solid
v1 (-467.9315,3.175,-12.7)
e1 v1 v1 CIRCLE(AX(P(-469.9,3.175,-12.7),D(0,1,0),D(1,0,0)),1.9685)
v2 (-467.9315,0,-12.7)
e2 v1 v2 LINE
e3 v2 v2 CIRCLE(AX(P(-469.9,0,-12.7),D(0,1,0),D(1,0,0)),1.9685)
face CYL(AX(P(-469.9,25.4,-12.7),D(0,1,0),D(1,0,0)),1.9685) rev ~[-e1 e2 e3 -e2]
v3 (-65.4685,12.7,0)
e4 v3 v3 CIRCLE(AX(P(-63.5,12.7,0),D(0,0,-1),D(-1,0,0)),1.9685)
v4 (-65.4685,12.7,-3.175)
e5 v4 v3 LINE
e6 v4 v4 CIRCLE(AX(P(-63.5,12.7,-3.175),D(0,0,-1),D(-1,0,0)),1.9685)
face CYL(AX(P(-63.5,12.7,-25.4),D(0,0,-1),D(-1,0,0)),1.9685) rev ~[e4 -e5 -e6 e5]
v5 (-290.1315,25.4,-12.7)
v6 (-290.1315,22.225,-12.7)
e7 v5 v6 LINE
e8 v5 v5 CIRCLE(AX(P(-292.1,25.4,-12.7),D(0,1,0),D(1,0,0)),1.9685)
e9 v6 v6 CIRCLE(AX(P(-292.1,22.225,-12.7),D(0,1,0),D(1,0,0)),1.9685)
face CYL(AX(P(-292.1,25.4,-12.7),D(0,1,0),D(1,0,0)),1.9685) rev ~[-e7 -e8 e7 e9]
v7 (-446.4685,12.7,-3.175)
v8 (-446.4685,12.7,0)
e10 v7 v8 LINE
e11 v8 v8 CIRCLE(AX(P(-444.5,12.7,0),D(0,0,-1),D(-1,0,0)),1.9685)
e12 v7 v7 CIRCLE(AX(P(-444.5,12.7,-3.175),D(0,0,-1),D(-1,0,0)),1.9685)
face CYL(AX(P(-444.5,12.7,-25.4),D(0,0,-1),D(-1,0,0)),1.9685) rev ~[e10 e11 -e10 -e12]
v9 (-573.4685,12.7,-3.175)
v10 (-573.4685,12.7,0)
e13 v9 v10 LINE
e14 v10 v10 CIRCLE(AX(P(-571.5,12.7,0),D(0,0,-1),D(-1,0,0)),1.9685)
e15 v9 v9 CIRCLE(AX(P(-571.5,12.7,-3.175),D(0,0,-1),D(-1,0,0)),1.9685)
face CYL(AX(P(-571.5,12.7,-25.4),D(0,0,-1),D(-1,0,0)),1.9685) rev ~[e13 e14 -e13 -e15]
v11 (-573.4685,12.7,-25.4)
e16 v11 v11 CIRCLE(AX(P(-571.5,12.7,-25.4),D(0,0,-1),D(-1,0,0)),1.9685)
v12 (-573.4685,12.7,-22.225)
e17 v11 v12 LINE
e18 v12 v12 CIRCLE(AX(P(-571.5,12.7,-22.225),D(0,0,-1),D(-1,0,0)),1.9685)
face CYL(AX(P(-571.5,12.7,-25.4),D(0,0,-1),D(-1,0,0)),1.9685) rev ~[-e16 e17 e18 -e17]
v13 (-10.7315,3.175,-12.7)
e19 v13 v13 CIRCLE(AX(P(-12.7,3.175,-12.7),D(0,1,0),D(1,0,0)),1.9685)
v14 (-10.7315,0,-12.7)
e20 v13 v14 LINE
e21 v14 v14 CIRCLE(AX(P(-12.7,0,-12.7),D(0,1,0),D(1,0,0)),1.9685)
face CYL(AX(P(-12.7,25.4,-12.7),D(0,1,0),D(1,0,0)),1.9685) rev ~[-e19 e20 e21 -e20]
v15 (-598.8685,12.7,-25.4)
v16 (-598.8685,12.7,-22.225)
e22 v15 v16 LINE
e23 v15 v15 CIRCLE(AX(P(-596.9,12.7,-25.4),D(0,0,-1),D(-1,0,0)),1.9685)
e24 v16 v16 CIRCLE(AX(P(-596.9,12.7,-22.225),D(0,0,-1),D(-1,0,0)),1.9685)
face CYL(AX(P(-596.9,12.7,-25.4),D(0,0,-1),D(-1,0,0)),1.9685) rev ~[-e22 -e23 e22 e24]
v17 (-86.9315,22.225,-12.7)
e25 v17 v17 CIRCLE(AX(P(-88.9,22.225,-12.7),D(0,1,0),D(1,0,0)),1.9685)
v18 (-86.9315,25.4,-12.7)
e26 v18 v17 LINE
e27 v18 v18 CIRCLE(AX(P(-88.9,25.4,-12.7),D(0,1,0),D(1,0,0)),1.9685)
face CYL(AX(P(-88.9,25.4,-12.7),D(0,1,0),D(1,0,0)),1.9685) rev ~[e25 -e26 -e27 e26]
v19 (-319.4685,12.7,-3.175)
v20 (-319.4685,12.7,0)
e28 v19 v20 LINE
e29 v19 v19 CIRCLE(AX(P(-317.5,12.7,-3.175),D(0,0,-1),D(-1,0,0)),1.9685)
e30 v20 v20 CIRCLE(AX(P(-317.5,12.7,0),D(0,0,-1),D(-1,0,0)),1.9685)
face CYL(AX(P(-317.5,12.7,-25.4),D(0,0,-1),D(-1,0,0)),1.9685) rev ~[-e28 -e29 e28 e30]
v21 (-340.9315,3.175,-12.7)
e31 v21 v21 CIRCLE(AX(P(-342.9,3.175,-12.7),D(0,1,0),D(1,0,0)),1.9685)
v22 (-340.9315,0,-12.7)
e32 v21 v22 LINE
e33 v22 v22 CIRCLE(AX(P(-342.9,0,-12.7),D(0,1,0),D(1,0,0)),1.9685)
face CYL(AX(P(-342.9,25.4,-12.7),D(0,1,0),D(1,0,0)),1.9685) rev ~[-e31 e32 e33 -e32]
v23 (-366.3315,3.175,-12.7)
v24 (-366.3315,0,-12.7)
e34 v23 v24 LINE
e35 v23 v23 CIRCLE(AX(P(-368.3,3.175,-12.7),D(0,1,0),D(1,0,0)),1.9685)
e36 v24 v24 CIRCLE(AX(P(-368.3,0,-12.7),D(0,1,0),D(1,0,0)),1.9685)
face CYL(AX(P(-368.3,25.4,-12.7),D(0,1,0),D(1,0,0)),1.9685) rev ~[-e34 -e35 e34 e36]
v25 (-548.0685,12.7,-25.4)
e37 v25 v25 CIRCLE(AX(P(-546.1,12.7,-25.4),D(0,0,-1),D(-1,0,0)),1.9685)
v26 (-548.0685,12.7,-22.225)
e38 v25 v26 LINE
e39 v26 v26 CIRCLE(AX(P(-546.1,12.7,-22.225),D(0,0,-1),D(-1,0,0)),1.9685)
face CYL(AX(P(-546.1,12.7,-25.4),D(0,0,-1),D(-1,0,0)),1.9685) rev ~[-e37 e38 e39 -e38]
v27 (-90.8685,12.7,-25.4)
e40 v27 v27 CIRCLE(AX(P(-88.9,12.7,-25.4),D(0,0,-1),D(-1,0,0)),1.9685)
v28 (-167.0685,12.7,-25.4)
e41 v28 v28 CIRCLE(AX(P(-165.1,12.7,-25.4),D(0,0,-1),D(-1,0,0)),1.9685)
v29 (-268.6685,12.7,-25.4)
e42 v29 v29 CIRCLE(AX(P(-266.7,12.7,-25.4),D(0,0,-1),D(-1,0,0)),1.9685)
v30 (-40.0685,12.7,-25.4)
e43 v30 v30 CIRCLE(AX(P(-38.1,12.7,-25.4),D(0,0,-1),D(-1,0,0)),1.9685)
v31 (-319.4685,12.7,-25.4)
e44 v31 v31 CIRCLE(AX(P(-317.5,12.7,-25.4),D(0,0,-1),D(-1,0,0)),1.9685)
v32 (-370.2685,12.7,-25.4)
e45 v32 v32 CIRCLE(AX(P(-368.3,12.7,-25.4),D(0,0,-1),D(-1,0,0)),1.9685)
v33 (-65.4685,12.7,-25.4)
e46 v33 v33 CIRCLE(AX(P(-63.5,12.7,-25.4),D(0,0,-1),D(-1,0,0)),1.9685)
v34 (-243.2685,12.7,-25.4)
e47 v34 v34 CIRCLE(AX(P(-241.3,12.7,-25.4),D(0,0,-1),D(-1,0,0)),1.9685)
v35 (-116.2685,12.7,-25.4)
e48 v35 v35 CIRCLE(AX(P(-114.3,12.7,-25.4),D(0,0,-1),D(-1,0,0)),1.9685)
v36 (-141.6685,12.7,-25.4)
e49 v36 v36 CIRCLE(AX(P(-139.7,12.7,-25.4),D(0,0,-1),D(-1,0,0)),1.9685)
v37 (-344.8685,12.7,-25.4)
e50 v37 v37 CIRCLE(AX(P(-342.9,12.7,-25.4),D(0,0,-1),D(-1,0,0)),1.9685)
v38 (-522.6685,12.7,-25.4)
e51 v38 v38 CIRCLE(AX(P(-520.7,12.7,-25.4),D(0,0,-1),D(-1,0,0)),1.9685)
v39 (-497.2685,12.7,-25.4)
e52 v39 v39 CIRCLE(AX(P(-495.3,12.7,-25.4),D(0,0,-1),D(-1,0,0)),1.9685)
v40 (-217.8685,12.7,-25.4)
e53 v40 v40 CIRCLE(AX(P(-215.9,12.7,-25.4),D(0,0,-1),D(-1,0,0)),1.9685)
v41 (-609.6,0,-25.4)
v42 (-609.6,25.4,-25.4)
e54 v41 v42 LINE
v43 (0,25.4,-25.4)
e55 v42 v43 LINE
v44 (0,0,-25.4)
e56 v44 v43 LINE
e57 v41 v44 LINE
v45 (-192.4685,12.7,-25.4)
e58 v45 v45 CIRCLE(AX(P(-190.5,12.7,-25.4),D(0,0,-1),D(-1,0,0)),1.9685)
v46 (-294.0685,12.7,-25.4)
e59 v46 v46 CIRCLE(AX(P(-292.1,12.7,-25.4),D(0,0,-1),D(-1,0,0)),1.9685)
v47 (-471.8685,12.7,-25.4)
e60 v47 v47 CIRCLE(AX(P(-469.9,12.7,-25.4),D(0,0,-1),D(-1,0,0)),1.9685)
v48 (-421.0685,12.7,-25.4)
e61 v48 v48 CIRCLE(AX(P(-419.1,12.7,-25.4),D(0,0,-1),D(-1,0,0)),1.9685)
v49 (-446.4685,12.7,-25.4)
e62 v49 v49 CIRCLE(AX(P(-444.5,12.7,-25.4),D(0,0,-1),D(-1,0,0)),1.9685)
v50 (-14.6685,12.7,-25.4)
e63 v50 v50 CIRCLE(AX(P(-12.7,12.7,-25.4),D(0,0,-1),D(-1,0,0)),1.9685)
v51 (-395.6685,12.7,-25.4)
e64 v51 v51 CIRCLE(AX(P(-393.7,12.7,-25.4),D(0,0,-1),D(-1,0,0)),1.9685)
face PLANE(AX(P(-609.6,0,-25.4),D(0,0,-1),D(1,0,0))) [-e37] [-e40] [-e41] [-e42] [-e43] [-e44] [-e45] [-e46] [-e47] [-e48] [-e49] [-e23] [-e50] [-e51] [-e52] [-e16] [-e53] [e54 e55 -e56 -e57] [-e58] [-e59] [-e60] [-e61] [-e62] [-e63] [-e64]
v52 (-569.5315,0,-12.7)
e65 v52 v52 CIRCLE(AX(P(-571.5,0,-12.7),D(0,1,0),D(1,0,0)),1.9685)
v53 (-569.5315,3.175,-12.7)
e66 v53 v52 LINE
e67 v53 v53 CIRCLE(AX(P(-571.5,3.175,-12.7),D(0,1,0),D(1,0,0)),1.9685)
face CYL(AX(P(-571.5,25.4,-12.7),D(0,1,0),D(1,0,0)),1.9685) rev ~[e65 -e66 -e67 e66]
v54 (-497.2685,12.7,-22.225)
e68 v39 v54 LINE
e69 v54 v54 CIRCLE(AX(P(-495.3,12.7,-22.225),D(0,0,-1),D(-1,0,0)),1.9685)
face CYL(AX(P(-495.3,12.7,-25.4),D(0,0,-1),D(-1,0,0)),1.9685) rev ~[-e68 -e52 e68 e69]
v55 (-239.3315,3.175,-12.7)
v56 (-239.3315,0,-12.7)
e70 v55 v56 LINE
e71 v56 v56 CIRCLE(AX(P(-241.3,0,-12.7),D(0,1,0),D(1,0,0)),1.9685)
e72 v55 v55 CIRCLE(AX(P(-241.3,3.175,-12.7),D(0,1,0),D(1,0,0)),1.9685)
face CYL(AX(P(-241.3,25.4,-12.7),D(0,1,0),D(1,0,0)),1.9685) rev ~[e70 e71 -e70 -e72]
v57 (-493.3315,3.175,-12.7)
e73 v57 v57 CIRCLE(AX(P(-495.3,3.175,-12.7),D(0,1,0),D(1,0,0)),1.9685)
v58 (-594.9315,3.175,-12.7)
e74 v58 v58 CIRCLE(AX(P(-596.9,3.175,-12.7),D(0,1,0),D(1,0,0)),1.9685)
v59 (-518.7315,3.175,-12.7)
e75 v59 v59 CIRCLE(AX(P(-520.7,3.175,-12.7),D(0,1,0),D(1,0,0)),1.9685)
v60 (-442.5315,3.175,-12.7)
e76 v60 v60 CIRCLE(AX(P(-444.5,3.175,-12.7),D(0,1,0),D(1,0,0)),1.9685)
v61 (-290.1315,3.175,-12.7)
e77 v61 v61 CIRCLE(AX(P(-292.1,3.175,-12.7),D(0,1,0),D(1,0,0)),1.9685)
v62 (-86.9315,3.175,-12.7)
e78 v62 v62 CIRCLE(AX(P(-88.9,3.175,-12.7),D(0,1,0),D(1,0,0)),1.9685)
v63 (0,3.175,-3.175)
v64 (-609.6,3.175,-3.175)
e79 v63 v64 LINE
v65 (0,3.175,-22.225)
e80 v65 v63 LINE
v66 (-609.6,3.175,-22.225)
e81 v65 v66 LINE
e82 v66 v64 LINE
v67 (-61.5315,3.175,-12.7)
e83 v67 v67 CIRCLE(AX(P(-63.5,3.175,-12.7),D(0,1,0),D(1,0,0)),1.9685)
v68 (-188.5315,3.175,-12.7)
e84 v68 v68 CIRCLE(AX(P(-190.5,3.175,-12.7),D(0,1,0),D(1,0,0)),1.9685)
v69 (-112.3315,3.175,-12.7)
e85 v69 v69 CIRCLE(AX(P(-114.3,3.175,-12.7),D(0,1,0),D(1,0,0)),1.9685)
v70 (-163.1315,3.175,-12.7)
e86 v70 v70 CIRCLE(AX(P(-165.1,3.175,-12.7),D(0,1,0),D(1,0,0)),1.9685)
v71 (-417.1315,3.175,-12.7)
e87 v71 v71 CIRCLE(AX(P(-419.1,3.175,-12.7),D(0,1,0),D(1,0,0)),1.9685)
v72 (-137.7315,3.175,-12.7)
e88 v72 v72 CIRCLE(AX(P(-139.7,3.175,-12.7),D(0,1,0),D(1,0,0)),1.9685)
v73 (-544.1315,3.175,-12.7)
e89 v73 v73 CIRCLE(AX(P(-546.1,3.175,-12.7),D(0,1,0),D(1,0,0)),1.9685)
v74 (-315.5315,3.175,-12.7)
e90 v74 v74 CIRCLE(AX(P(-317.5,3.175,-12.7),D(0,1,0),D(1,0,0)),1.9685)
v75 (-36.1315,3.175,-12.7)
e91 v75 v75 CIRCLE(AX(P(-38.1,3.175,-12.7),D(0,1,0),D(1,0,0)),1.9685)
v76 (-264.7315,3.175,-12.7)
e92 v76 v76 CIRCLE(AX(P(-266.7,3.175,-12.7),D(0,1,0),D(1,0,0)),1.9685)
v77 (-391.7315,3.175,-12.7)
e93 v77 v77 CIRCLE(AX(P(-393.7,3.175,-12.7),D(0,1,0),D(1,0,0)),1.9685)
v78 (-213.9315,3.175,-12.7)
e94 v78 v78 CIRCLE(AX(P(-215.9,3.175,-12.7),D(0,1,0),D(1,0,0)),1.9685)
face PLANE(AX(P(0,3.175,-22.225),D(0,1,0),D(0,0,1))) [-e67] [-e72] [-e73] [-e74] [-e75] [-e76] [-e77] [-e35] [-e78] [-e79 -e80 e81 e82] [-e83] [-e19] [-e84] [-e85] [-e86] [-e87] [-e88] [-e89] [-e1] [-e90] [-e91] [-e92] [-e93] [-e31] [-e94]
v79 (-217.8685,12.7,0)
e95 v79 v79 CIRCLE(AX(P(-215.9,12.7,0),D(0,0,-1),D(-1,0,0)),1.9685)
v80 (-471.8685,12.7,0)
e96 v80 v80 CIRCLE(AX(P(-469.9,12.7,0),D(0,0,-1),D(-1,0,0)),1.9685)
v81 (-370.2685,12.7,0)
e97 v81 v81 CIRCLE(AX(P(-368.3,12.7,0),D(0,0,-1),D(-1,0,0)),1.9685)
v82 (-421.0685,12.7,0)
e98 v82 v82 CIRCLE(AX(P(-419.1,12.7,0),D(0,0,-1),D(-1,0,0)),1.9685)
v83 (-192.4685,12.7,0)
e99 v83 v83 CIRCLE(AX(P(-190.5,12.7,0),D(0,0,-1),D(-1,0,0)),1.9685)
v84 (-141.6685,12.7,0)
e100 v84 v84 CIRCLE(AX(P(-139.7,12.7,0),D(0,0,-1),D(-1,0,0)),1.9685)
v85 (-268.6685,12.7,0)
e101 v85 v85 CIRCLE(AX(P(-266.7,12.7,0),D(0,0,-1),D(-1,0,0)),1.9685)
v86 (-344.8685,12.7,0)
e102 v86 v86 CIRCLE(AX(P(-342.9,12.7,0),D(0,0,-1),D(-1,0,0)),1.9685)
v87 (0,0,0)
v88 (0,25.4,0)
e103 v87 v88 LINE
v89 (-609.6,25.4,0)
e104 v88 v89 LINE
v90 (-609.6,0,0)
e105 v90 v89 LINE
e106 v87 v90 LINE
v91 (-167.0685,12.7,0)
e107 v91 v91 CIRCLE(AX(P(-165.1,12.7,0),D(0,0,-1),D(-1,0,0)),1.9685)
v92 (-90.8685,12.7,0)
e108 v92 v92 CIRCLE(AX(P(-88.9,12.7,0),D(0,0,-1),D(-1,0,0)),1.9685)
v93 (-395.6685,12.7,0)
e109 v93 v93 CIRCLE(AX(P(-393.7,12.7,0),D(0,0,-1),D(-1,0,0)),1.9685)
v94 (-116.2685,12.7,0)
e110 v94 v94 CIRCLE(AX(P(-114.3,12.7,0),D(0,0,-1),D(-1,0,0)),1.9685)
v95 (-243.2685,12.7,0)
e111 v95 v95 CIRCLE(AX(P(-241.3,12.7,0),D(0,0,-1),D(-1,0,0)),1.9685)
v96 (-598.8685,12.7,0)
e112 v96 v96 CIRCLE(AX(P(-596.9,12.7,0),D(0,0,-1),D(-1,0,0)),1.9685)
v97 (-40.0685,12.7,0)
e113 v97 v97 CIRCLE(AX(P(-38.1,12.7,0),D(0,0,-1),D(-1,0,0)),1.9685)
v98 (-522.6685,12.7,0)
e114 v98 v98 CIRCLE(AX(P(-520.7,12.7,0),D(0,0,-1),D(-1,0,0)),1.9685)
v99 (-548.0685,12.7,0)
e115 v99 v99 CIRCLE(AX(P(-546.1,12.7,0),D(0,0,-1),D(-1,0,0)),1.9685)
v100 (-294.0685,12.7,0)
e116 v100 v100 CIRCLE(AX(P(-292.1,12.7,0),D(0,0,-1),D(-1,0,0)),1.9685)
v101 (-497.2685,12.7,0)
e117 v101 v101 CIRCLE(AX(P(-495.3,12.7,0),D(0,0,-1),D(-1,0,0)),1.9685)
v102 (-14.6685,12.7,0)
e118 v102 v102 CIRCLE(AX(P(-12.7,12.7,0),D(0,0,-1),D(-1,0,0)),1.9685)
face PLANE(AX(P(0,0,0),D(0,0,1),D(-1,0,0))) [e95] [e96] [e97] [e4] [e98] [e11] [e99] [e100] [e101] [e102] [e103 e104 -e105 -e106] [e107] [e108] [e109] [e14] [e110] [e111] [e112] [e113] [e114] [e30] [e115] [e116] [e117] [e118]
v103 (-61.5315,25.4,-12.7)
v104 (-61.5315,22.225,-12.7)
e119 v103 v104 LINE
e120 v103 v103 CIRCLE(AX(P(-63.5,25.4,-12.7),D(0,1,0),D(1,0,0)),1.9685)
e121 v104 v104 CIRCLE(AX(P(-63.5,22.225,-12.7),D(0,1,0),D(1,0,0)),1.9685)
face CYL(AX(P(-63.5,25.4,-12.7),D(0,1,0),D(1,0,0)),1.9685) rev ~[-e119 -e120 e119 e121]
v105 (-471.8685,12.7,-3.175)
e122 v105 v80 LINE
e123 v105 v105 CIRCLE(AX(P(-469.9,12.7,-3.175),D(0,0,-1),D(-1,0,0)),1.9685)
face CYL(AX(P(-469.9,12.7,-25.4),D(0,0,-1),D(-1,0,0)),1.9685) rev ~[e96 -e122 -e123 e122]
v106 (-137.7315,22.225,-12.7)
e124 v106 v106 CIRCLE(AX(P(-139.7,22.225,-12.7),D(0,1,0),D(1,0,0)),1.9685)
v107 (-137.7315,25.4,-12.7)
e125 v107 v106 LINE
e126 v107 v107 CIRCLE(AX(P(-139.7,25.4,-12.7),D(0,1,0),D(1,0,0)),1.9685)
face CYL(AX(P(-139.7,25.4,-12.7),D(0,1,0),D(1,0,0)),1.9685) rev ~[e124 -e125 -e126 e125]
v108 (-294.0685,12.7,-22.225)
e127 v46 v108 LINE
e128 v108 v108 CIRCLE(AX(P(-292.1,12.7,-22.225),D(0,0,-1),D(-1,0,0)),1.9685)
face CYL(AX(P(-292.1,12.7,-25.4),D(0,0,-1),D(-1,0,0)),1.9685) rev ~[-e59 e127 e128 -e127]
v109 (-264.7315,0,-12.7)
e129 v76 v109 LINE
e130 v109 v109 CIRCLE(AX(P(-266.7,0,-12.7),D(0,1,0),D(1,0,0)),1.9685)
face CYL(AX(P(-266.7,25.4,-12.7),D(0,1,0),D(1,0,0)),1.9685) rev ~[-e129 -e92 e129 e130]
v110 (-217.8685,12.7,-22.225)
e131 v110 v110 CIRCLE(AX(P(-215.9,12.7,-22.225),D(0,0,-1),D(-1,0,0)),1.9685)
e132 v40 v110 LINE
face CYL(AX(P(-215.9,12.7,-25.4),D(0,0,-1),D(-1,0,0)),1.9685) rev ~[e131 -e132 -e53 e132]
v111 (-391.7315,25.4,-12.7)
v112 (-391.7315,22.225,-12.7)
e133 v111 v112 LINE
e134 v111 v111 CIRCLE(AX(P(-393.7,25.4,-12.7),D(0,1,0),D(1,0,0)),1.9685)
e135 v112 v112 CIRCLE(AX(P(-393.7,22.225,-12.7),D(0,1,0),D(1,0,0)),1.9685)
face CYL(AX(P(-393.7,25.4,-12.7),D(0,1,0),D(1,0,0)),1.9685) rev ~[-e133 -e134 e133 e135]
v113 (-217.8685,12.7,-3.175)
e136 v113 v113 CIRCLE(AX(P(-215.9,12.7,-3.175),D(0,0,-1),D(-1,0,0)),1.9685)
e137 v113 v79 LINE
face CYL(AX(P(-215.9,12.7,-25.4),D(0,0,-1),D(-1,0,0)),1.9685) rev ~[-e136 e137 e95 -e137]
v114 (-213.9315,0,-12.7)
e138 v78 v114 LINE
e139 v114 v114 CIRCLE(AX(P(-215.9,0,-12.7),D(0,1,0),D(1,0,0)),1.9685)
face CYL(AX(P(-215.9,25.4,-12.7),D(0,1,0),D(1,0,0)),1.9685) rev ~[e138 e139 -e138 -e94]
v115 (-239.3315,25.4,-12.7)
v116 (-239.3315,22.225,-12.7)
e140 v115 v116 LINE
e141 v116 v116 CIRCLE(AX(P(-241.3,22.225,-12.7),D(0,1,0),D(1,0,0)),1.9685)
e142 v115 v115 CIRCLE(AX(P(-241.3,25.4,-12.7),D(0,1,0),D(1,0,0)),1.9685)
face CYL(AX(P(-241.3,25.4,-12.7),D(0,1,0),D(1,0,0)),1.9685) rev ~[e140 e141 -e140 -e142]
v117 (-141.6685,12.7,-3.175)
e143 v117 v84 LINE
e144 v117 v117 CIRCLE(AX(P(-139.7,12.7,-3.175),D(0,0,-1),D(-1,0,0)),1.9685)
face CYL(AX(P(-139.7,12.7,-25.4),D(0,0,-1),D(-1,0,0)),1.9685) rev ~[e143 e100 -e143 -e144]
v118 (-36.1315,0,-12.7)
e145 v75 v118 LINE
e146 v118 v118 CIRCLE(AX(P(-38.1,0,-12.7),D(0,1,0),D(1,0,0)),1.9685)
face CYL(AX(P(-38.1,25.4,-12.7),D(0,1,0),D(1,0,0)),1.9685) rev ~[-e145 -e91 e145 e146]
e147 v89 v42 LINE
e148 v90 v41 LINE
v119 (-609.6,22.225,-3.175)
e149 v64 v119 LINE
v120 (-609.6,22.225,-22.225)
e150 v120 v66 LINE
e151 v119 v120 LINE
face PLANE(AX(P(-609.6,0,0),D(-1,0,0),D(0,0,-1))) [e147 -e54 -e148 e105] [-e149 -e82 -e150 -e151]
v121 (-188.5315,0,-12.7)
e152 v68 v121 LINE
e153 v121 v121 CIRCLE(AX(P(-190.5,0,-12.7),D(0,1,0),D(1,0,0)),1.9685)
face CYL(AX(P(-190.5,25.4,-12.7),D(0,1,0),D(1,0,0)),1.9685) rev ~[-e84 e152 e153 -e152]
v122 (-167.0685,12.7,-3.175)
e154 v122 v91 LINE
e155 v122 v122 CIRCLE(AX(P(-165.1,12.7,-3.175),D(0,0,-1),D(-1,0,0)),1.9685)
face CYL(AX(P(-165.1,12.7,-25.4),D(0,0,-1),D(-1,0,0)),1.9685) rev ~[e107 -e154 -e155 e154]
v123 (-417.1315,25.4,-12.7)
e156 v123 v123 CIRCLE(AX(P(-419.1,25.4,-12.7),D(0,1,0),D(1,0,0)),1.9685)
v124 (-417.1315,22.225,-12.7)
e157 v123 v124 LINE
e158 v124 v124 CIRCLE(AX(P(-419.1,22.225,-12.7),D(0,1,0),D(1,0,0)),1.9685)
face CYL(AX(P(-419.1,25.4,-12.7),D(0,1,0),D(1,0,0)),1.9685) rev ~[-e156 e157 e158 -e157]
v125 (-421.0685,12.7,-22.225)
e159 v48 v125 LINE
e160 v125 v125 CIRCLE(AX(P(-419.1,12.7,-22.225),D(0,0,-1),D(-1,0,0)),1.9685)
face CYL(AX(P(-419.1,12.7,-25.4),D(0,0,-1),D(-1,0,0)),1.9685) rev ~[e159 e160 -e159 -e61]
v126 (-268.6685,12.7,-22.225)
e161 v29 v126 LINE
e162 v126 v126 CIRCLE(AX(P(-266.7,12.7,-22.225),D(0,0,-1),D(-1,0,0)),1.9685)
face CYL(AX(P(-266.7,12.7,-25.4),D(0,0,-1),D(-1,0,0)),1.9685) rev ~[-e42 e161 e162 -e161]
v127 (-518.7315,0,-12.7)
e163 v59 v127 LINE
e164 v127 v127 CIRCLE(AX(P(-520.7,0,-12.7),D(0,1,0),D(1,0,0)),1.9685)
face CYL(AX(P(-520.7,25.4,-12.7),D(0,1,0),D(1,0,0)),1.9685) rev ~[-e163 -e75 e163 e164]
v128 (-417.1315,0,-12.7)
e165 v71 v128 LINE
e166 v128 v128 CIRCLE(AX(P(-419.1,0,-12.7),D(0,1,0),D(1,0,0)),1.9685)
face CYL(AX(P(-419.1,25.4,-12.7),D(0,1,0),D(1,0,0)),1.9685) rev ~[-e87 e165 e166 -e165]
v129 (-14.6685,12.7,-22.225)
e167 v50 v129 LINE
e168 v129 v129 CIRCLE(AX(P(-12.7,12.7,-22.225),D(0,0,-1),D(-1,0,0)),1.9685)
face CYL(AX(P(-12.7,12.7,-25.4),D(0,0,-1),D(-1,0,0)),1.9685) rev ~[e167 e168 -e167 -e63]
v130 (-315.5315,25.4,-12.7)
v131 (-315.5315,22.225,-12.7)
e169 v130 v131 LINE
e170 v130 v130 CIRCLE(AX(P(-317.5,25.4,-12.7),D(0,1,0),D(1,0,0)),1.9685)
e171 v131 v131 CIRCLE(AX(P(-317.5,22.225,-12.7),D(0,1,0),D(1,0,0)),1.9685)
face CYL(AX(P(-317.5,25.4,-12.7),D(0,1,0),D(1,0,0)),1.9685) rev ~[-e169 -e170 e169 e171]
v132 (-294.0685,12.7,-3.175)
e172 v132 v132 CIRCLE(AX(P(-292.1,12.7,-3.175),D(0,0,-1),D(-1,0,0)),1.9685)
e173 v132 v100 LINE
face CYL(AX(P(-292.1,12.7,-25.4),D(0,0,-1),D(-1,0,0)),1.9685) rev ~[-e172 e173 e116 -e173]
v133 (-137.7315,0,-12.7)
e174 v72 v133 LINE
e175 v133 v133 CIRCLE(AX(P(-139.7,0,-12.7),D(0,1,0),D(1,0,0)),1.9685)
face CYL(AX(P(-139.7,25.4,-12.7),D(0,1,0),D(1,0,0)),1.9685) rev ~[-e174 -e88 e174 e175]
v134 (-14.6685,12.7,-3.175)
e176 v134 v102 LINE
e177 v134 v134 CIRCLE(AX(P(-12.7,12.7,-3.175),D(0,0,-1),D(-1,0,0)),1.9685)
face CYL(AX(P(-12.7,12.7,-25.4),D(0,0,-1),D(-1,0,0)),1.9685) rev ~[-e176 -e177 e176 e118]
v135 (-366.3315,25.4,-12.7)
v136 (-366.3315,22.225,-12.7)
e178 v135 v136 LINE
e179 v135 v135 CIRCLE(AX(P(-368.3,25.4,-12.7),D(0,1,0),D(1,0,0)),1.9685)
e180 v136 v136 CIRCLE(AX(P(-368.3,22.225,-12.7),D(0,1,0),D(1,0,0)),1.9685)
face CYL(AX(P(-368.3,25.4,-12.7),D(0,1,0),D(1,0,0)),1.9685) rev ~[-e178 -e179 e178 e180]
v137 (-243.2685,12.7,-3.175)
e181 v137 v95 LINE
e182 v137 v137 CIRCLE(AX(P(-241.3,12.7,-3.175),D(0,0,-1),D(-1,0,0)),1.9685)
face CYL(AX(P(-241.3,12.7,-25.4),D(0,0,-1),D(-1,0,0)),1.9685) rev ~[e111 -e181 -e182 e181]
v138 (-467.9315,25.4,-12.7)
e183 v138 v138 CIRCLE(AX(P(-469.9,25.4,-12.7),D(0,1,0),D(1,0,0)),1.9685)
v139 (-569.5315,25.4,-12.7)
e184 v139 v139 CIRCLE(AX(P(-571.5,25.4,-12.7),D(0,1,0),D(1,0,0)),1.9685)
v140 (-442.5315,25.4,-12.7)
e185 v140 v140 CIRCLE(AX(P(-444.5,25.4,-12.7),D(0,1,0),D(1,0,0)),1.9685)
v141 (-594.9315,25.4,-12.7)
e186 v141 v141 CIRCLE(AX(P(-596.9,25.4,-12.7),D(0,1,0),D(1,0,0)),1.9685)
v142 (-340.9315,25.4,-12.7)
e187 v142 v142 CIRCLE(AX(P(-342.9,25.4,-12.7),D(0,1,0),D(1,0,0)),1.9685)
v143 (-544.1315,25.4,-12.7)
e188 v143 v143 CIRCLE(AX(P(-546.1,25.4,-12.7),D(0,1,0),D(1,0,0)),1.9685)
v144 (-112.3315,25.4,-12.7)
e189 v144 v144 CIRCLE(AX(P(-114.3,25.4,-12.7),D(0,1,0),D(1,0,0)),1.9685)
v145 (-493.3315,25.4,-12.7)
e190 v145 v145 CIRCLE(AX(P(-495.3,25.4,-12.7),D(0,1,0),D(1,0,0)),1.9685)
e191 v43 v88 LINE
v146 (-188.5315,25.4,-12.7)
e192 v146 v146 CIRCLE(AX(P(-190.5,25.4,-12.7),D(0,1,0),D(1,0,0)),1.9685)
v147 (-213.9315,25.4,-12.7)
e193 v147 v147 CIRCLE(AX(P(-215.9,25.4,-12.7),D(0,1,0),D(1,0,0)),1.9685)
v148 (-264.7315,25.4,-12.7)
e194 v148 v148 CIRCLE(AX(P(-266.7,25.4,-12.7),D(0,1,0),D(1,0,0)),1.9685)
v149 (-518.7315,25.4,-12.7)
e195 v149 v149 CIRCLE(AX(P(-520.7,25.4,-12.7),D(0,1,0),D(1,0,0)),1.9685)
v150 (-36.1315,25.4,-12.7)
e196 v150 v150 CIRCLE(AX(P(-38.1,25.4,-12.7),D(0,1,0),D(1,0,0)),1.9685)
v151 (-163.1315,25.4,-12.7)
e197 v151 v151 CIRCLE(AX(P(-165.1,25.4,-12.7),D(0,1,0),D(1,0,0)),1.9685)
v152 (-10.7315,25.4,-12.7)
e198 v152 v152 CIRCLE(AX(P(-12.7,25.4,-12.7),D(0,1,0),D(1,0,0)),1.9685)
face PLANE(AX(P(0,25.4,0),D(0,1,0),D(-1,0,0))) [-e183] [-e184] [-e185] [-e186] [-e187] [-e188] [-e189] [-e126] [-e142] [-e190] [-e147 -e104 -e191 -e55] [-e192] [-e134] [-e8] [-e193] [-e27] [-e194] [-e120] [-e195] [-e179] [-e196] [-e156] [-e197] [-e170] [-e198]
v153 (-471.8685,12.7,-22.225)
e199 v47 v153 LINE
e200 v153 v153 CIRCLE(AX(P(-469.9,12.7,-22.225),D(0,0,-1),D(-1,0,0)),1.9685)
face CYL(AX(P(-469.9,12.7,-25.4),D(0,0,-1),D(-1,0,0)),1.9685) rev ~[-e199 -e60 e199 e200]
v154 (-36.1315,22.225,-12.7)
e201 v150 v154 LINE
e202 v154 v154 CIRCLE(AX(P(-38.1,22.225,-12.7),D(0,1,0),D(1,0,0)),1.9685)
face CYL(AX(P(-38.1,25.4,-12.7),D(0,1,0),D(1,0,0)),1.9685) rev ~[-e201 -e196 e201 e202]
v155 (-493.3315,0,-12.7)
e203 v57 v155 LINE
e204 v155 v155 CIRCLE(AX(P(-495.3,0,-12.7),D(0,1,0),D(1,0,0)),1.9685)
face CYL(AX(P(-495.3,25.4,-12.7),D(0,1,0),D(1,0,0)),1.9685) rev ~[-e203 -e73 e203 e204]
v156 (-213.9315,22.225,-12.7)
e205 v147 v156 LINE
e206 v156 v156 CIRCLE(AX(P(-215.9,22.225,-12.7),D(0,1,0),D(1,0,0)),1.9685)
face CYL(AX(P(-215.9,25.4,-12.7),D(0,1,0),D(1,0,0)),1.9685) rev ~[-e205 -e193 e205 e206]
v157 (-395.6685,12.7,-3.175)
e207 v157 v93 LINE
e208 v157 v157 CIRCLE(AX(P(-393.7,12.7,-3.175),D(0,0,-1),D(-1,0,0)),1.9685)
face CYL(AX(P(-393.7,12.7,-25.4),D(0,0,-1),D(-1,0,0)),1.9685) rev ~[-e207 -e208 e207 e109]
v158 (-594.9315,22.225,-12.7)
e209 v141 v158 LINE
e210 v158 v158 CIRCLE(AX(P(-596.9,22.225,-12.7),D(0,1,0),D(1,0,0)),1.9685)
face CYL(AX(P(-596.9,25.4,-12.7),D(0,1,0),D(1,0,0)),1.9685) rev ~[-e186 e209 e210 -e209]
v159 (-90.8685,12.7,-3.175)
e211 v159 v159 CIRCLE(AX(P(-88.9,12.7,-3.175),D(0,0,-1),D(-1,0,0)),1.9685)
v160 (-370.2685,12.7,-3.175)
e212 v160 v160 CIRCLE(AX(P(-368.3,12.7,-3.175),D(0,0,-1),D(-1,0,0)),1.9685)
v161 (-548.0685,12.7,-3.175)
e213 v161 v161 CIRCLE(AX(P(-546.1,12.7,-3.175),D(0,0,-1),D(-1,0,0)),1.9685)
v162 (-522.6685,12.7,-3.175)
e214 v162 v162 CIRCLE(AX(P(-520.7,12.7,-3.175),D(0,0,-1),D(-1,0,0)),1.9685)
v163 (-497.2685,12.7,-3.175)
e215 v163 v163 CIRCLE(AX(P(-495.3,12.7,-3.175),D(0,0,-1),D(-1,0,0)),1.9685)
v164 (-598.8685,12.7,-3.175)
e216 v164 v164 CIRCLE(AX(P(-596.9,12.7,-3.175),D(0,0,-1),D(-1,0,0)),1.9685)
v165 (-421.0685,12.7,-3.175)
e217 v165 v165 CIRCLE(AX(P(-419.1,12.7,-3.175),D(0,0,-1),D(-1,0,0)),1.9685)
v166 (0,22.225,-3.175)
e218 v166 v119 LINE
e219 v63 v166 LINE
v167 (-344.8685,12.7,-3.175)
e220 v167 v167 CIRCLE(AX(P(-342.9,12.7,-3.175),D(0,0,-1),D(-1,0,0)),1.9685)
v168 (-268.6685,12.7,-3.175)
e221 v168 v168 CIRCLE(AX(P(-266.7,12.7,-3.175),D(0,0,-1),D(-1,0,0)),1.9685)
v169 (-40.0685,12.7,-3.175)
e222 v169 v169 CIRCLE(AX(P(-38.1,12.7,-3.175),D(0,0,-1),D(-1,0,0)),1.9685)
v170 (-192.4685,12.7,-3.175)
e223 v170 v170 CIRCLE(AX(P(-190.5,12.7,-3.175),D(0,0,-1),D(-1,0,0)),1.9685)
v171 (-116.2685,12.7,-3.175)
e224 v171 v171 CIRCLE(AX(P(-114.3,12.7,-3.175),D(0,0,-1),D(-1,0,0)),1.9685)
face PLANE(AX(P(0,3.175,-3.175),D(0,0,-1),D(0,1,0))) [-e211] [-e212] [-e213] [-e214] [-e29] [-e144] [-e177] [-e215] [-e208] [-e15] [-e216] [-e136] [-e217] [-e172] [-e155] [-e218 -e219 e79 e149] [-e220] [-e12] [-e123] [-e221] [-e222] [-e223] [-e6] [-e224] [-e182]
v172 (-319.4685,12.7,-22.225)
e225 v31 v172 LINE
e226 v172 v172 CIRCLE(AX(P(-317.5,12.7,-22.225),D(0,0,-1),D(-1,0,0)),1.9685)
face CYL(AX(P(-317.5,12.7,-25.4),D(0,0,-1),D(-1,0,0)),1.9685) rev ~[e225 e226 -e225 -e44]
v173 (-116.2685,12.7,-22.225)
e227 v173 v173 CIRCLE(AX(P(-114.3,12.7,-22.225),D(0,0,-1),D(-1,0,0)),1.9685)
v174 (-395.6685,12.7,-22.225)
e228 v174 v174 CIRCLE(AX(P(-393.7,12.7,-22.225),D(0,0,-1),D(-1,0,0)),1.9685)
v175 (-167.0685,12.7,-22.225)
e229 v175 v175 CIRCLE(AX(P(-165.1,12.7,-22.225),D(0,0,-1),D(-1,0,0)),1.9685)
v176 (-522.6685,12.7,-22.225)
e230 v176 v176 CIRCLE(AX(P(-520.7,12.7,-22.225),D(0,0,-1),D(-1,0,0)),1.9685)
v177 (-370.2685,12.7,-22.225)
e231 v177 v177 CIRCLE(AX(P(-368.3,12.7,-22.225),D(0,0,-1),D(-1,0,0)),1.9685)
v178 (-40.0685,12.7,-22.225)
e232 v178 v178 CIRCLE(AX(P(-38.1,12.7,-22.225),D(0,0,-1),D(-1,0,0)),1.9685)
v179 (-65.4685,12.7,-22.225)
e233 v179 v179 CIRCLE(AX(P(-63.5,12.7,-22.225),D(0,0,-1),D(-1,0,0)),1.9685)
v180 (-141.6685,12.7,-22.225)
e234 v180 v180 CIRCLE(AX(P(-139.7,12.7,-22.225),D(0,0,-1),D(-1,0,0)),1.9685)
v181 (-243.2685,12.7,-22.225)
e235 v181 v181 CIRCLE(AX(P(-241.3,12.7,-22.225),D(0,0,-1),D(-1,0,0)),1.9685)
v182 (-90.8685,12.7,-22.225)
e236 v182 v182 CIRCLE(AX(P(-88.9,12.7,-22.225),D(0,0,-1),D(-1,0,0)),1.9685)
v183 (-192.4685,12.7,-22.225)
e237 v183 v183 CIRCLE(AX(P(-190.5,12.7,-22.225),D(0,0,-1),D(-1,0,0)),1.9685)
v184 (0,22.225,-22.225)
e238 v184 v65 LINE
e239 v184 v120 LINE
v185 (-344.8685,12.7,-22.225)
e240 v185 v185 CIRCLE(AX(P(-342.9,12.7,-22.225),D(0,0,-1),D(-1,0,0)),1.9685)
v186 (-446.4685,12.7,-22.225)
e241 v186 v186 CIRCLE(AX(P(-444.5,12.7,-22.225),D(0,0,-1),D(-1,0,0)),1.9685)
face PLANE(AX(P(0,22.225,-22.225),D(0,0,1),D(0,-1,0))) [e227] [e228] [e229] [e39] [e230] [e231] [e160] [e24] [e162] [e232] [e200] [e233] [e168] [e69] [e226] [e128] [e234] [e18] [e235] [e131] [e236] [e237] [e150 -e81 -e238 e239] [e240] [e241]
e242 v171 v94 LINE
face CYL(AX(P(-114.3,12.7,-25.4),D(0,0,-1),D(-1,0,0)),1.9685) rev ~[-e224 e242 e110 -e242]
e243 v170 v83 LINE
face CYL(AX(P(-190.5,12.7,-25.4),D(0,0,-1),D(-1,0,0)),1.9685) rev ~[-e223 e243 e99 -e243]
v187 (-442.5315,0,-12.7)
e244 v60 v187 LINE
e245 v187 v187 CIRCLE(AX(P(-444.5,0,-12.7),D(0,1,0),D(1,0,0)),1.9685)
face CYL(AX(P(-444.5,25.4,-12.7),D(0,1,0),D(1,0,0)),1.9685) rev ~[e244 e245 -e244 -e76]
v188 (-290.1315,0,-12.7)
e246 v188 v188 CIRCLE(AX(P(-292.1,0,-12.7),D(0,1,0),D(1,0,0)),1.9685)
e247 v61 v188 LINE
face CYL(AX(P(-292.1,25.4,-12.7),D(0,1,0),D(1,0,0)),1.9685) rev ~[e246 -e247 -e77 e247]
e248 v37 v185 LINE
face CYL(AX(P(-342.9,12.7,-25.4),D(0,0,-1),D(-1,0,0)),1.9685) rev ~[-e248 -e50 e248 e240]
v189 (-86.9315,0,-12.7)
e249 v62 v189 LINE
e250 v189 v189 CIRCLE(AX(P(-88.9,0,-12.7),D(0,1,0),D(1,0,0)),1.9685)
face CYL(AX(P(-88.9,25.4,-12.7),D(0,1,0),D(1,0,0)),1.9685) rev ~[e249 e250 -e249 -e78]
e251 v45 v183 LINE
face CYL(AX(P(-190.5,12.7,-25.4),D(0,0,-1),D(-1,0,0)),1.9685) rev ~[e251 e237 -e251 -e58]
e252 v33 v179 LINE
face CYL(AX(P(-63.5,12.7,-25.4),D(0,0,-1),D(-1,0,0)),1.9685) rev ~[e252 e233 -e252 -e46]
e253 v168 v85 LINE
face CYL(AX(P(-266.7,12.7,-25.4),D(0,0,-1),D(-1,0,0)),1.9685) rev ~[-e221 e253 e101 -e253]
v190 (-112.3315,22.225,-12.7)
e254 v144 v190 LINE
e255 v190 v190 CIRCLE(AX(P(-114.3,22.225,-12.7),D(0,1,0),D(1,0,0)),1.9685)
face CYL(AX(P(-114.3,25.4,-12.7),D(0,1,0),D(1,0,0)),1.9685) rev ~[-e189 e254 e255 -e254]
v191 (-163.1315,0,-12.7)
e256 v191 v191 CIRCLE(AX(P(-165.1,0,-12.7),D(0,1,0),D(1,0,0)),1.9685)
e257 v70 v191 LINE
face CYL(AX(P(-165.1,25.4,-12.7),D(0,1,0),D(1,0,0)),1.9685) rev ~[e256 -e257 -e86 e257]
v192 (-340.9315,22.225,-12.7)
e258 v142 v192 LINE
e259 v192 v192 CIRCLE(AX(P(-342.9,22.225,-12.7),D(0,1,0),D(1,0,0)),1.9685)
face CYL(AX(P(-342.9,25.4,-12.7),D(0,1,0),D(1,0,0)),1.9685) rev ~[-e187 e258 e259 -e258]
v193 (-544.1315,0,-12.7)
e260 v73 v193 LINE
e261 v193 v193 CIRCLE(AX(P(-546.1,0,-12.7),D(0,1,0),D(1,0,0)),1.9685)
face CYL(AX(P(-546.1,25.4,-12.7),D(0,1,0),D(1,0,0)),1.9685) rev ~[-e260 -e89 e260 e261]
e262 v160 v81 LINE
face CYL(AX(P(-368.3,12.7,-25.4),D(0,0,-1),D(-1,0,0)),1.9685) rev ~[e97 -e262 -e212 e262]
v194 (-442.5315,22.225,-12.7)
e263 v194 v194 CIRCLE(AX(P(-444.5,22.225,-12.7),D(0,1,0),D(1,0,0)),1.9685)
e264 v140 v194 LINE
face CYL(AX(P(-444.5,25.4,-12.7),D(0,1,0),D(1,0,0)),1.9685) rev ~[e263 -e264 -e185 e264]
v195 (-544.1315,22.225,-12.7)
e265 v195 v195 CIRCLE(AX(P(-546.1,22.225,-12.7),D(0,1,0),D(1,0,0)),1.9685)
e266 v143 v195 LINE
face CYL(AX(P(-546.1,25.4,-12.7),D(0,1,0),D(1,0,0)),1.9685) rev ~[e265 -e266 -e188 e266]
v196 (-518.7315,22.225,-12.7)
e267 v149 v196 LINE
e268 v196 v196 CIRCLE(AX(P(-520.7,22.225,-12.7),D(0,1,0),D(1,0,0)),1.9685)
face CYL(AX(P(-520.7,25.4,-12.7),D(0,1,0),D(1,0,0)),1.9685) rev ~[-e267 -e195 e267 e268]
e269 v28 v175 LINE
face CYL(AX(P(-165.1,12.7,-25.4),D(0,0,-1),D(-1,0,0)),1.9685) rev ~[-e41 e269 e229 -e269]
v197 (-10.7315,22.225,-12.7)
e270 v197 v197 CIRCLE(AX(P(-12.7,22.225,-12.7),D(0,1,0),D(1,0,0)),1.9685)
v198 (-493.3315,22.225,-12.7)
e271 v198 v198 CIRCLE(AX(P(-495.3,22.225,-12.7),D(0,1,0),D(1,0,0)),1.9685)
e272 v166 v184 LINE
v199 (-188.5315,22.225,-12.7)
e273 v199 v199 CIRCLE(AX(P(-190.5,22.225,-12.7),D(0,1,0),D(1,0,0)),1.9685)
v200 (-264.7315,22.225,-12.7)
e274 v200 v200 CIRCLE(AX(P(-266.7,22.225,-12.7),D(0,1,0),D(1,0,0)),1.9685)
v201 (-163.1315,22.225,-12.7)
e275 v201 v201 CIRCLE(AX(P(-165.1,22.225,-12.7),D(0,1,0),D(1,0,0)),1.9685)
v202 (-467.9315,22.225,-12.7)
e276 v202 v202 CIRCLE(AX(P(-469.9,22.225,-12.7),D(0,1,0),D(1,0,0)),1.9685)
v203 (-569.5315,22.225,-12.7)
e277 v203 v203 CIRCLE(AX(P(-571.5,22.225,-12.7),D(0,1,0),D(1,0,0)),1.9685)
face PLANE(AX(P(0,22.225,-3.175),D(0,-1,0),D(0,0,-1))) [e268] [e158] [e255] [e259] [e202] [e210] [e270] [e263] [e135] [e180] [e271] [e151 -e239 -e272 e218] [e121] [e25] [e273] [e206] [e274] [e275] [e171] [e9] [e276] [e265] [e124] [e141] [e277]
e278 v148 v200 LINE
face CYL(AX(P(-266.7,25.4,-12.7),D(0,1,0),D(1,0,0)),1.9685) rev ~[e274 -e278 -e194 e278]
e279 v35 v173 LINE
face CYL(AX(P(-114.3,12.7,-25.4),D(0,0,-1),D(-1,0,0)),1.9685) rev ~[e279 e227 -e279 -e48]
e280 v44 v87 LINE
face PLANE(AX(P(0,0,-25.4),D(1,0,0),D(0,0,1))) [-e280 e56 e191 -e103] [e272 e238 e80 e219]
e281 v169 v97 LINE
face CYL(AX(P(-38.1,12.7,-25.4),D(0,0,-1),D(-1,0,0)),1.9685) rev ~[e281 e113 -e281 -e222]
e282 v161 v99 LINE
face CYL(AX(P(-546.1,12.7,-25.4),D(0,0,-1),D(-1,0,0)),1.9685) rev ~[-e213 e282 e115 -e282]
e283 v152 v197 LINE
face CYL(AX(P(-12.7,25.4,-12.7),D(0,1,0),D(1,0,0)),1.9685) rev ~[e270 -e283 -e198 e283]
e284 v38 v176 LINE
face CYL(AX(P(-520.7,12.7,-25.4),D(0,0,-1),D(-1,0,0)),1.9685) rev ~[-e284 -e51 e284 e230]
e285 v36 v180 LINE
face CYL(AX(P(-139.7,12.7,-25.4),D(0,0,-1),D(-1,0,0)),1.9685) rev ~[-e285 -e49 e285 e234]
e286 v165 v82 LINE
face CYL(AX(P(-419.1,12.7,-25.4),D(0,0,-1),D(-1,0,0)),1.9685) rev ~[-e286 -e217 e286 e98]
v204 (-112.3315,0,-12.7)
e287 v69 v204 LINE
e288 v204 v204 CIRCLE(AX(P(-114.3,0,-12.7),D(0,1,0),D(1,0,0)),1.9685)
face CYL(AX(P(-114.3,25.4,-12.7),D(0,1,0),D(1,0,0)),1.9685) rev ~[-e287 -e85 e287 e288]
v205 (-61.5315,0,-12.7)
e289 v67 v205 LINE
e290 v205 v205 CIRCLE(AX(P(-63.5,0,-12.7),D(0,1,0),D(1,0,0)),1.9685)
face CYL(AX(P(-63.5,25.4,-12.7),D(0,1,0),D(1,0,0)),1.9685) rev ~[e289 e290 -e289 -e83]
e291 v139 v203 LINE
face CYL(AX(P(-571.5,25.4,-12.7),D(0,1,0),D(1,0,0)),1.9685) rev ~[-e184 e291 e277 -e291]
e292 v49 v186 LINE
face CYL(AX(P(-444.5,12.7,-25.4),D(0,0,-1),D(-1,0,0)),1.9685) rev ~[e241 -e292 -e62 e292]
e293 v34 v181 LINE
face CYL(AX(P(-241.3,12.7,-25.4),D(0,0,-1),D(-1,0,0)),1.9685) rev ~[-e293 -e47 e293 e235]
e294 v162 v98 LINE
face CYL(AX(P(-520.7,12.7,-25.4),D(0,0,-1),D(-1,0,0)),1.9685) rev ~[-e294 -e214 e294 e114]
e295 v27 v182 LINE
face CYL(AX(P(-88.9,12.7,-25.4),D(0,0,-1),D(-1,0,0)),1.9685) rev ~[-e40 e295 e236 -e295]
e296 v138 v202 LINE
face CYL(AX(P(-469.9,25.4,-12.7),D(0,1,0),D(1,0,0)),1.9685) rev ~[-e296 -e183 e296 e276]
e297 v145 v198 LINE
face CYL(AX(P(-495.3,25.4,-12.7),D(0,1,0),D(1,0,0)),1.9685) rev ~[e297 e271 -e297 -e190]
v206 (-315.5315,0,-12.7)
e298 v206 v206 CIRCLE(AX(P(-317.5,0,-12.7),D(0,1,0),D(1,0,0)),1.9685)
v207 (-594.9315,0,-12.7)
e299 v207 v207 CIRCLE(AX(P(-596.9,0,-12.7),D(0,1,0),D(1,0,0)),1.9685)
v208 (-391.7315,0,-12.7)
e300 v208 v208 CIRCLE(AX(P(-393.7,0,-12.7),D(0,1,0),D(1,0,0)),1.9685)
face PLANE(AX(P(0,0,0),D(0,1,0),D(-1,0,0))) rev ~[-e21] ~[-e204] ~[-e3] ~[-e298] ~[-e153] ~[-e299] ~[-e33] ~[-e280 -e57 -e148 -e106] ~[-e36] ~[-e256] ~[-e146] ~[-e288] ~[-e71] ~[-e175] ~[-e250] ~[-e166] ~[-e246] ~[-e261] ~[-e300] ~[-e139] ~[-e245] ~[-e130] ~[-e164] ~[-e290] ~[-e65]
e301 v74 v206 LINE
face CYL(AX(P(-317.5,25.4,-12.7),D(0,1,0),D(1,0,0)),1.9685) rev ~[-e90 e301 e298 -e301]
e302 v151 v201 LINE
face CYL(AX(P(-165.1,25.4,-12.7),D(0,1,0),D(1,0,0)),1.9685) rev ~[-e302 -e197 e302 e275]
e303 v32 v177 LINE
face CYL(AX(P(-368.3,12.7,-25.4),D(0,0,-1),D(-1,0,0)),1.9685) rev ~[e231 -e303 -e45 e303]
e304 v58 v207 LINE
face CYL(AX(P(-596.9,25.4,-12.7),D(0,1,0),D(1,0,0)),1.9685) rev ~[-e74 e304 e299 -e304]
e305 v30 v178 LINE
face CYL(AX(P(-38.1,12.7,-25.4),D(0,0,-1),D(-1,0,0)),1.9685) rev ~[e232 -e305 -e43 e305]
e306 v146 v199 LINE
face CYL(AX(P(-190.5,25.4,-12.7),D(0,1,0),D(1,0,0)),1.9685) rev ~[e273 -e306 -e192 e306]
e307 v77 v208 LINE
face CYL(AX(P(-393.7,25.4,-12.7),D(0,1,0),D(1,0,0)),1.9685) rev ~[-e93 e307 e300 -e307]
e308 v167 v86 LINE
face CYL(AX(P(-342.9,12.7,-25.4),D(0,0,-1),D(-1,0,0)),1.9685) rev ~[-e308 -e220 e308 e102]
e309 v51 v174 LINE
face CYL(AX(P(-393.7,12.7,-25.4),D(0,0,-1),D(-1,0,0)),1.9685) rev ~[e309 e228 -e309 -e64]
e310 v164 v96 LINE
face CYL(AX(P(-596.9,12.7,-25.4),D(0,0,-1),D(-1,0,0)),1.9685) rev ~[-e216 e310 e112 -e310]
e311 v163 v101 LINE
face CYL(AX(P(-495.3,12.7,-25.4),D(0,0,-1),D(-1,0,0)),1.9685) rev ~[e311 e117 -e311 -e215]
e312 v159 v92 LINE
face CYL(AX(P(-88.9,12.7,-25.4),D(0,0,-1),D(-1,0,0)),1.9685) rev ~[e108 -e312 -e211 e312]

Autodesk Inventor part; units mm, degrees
ref_plane "YZ Plane" through (0, 0, 0) normal (1, 0, 0) x (0, 1, 0)
ref_plane "XZ Plane" through (0, 0, 0) normal (0, 1, 0) x (-1, 0, 0)
ref_plane "XY Plane" through (0, 0, 0) normal (0, 0, 1) x (1, 0, 0)
sketch "Sketch1" plane through (0, 0, 0) normal (0, 1, 0) x (-1, 0, 0)
  line L0 (0, 0) -> (609.6, 0)
  line L1 (609.6, 0) -> (609.6, -25.4)
  line L2 (609.6, -25.4) -> (0, -25.4)
  line L3 (0, -25.4) -> (0, 0)
  dimension "d0" = 609.6
  dimension "d1" = 25.4
extrude "Extrusion1" add sketch "Sketch1" along normal blind 25.4
sketch "Sketch2" plane through (0, 0, 0) normal (1, 0, 0) x (0, 0, -1)
  line L0 (3.175, 22.225) -> (22.225, 22.225)
  line L1 (22.225, 22.225) -> (22.225, 3.175)
  line L2 (22.225, 3.175) -> (3.175, 3.175)
  line L3 (3.175, 3.175) -> (3.175, 22.225)
  line L4 (0, 25.4) -> (25.4, 25.4) projected
  line L5 (0, 0) -> (0, 25.4) projected
  line L6 (25.4, 0) -> (0, 0) projected
  line L7 (25.4, 0) -> (25.4, 25.4) projected
  dimension "d4" = 3.175
  dimension "d5" = 3.175
  dimension "d6" = 3.175
  dimension "d7" = 3.175
extrude "Extrusion2" cut sketch "Sketch2" against normal blind 609.6 contours L0 L1 L2 L3
sketch "Sketch3" plane through (0, 0, -25.4) normal (0, 0, -1) x (-1, 0, 0)
  circle A0 centre (12.7, 12.7) radius 1.9685
  line L0 (0, 25.4) -> (609.6, 25.4) projected
  line L1 (0, 0) -> (0, 25.4) projected
  circle A1 centre (38.1, 12.7) radius 1.9685
  circle A2 centre (63.5, 12.7) radius 1.9685
  circle A3 centre (88.9, 12.7) radius 1.9685
  circle A4 centre (114.3, 12.7) radius 1.9685
  circle A5 centre (139.7, 12.7) radius 1.9685
  circle A6 centre (165.1, 12.7) radius 1.9685
  circle A7 centre (190.5, 12.7) radius 1.9685
  circle A8 centre (215.9, 12.7) radius 1.9685
  circle A9 centre (241.3, 12.7) radius 1.9685
  circle A10 centre (266.7, 12.7) radius 1.9685
  circle A11 centre (292.1, 12.7) radius 1.9685
  circle A12 centre (317.5, 12.7) radius 1.9685
  circle A13 centre (342.9, 12.7) radius 1.9685
  circle A14 centre (368.3, 12.7) radius 1.9685
  circle A15 centre (393.7, 12.7) radius 1.9685
  circle A16 centre (419.1, 12.7) radius 1.9685
  circle A17 centre (444.5, 12.7) radius 1.9685
  circle A18 centre (469.9, 12.7) radius 1.9685
  circle A19 centre (495.3, 12.7) radius 1.9685
  circle A20 centre (520.7, 12.7) radius 1.9685
  circle A21 centre (546.1, 12.7) radius 1.9685
  circle A22 centre (571.5, 12.7) radius 1.9685
  circle A23 centre (596.9, 12.7) radius 1.9685
  dimension "d10" = 3.937
  dimension "d11" = 12.7
  dimension "d12" = 12.7
  dimension "d15" = 25.4
extrude "Extrusion3" cut sketch "Sketch3" against normal blind 25.4
sketch "Sketch4" plane through (0, 25.4, 0) normal (0, 1, 0) x (1, 0, 0)
  circle A0 centre (-12.7, 12.7) radius 1.9685
  line L0 (-609.6, 0) -> (0, 0) projected
  line L1 (0, 0) -> (0, 25.4) projected
  circle A1 centre (-38.1, 12.7) radius 1.9685
  circle A2 centre (-63.5, 12.7) radius 1.9685
  circle A3 centre (-88.9, 12.7) radius 1.9685
  circle A4 centre (-114.3, 12.7) radius 1.9685
  circle A5 centre (-139.7, 12.7) radius 1.9685
  circle A6 centre (-165.1, 12.7) radius 1.9685
  circle A7 centre (-190.5, 12.7) radius 1.9685
  circle A8 centre (-215.9, 12.7) radius 1.9685
  circle A9 centre (-241.3, 12.7) radius 1.9685
  circle A10 centre (-266.7, 12.7) radius 1.9685
  circle A11 centre (-292.1, 12.7) radius 1.9685
  circle A12 centre (-317.5, 12.7) radius 1.9685
  circle A13 centre (-342.9, 12.7) radius 1.9685
  circle A14 centre (-368.3, 12.7) radius 1.9685
  circle A15 centre (-393.7, 12.7) radius 1.9685
  circle A16 centre (-419.1, 12.7) radius 1.9685
  circle A17 centre (-444.5, 12.7) radius 1.9685
  circle A18 centre (-469.9, 12.7) radius 1.9685
  circle A19 centre (-495.3, 12.7) radius 1.9685
  circle A20 centre (-520.7, 12.7) radius 1.9685
  circle A21 centre (-546.1, 12.7) radius 1.9685
  circle A22 centre (-571.5, 12.7) radius 1.9685
  circle A23 centre (-596.9, 12.7) radius 1.9685
  dimension "d22" = 3.937
  dimension "d23" = 12.7
  dimension "d24" = 12.7
  dimension "d27" = 25.4
extrude "Extrusion4" cut sketch "Sketch4" against normal blind 25.4
properties part number "kermit frame 7"
